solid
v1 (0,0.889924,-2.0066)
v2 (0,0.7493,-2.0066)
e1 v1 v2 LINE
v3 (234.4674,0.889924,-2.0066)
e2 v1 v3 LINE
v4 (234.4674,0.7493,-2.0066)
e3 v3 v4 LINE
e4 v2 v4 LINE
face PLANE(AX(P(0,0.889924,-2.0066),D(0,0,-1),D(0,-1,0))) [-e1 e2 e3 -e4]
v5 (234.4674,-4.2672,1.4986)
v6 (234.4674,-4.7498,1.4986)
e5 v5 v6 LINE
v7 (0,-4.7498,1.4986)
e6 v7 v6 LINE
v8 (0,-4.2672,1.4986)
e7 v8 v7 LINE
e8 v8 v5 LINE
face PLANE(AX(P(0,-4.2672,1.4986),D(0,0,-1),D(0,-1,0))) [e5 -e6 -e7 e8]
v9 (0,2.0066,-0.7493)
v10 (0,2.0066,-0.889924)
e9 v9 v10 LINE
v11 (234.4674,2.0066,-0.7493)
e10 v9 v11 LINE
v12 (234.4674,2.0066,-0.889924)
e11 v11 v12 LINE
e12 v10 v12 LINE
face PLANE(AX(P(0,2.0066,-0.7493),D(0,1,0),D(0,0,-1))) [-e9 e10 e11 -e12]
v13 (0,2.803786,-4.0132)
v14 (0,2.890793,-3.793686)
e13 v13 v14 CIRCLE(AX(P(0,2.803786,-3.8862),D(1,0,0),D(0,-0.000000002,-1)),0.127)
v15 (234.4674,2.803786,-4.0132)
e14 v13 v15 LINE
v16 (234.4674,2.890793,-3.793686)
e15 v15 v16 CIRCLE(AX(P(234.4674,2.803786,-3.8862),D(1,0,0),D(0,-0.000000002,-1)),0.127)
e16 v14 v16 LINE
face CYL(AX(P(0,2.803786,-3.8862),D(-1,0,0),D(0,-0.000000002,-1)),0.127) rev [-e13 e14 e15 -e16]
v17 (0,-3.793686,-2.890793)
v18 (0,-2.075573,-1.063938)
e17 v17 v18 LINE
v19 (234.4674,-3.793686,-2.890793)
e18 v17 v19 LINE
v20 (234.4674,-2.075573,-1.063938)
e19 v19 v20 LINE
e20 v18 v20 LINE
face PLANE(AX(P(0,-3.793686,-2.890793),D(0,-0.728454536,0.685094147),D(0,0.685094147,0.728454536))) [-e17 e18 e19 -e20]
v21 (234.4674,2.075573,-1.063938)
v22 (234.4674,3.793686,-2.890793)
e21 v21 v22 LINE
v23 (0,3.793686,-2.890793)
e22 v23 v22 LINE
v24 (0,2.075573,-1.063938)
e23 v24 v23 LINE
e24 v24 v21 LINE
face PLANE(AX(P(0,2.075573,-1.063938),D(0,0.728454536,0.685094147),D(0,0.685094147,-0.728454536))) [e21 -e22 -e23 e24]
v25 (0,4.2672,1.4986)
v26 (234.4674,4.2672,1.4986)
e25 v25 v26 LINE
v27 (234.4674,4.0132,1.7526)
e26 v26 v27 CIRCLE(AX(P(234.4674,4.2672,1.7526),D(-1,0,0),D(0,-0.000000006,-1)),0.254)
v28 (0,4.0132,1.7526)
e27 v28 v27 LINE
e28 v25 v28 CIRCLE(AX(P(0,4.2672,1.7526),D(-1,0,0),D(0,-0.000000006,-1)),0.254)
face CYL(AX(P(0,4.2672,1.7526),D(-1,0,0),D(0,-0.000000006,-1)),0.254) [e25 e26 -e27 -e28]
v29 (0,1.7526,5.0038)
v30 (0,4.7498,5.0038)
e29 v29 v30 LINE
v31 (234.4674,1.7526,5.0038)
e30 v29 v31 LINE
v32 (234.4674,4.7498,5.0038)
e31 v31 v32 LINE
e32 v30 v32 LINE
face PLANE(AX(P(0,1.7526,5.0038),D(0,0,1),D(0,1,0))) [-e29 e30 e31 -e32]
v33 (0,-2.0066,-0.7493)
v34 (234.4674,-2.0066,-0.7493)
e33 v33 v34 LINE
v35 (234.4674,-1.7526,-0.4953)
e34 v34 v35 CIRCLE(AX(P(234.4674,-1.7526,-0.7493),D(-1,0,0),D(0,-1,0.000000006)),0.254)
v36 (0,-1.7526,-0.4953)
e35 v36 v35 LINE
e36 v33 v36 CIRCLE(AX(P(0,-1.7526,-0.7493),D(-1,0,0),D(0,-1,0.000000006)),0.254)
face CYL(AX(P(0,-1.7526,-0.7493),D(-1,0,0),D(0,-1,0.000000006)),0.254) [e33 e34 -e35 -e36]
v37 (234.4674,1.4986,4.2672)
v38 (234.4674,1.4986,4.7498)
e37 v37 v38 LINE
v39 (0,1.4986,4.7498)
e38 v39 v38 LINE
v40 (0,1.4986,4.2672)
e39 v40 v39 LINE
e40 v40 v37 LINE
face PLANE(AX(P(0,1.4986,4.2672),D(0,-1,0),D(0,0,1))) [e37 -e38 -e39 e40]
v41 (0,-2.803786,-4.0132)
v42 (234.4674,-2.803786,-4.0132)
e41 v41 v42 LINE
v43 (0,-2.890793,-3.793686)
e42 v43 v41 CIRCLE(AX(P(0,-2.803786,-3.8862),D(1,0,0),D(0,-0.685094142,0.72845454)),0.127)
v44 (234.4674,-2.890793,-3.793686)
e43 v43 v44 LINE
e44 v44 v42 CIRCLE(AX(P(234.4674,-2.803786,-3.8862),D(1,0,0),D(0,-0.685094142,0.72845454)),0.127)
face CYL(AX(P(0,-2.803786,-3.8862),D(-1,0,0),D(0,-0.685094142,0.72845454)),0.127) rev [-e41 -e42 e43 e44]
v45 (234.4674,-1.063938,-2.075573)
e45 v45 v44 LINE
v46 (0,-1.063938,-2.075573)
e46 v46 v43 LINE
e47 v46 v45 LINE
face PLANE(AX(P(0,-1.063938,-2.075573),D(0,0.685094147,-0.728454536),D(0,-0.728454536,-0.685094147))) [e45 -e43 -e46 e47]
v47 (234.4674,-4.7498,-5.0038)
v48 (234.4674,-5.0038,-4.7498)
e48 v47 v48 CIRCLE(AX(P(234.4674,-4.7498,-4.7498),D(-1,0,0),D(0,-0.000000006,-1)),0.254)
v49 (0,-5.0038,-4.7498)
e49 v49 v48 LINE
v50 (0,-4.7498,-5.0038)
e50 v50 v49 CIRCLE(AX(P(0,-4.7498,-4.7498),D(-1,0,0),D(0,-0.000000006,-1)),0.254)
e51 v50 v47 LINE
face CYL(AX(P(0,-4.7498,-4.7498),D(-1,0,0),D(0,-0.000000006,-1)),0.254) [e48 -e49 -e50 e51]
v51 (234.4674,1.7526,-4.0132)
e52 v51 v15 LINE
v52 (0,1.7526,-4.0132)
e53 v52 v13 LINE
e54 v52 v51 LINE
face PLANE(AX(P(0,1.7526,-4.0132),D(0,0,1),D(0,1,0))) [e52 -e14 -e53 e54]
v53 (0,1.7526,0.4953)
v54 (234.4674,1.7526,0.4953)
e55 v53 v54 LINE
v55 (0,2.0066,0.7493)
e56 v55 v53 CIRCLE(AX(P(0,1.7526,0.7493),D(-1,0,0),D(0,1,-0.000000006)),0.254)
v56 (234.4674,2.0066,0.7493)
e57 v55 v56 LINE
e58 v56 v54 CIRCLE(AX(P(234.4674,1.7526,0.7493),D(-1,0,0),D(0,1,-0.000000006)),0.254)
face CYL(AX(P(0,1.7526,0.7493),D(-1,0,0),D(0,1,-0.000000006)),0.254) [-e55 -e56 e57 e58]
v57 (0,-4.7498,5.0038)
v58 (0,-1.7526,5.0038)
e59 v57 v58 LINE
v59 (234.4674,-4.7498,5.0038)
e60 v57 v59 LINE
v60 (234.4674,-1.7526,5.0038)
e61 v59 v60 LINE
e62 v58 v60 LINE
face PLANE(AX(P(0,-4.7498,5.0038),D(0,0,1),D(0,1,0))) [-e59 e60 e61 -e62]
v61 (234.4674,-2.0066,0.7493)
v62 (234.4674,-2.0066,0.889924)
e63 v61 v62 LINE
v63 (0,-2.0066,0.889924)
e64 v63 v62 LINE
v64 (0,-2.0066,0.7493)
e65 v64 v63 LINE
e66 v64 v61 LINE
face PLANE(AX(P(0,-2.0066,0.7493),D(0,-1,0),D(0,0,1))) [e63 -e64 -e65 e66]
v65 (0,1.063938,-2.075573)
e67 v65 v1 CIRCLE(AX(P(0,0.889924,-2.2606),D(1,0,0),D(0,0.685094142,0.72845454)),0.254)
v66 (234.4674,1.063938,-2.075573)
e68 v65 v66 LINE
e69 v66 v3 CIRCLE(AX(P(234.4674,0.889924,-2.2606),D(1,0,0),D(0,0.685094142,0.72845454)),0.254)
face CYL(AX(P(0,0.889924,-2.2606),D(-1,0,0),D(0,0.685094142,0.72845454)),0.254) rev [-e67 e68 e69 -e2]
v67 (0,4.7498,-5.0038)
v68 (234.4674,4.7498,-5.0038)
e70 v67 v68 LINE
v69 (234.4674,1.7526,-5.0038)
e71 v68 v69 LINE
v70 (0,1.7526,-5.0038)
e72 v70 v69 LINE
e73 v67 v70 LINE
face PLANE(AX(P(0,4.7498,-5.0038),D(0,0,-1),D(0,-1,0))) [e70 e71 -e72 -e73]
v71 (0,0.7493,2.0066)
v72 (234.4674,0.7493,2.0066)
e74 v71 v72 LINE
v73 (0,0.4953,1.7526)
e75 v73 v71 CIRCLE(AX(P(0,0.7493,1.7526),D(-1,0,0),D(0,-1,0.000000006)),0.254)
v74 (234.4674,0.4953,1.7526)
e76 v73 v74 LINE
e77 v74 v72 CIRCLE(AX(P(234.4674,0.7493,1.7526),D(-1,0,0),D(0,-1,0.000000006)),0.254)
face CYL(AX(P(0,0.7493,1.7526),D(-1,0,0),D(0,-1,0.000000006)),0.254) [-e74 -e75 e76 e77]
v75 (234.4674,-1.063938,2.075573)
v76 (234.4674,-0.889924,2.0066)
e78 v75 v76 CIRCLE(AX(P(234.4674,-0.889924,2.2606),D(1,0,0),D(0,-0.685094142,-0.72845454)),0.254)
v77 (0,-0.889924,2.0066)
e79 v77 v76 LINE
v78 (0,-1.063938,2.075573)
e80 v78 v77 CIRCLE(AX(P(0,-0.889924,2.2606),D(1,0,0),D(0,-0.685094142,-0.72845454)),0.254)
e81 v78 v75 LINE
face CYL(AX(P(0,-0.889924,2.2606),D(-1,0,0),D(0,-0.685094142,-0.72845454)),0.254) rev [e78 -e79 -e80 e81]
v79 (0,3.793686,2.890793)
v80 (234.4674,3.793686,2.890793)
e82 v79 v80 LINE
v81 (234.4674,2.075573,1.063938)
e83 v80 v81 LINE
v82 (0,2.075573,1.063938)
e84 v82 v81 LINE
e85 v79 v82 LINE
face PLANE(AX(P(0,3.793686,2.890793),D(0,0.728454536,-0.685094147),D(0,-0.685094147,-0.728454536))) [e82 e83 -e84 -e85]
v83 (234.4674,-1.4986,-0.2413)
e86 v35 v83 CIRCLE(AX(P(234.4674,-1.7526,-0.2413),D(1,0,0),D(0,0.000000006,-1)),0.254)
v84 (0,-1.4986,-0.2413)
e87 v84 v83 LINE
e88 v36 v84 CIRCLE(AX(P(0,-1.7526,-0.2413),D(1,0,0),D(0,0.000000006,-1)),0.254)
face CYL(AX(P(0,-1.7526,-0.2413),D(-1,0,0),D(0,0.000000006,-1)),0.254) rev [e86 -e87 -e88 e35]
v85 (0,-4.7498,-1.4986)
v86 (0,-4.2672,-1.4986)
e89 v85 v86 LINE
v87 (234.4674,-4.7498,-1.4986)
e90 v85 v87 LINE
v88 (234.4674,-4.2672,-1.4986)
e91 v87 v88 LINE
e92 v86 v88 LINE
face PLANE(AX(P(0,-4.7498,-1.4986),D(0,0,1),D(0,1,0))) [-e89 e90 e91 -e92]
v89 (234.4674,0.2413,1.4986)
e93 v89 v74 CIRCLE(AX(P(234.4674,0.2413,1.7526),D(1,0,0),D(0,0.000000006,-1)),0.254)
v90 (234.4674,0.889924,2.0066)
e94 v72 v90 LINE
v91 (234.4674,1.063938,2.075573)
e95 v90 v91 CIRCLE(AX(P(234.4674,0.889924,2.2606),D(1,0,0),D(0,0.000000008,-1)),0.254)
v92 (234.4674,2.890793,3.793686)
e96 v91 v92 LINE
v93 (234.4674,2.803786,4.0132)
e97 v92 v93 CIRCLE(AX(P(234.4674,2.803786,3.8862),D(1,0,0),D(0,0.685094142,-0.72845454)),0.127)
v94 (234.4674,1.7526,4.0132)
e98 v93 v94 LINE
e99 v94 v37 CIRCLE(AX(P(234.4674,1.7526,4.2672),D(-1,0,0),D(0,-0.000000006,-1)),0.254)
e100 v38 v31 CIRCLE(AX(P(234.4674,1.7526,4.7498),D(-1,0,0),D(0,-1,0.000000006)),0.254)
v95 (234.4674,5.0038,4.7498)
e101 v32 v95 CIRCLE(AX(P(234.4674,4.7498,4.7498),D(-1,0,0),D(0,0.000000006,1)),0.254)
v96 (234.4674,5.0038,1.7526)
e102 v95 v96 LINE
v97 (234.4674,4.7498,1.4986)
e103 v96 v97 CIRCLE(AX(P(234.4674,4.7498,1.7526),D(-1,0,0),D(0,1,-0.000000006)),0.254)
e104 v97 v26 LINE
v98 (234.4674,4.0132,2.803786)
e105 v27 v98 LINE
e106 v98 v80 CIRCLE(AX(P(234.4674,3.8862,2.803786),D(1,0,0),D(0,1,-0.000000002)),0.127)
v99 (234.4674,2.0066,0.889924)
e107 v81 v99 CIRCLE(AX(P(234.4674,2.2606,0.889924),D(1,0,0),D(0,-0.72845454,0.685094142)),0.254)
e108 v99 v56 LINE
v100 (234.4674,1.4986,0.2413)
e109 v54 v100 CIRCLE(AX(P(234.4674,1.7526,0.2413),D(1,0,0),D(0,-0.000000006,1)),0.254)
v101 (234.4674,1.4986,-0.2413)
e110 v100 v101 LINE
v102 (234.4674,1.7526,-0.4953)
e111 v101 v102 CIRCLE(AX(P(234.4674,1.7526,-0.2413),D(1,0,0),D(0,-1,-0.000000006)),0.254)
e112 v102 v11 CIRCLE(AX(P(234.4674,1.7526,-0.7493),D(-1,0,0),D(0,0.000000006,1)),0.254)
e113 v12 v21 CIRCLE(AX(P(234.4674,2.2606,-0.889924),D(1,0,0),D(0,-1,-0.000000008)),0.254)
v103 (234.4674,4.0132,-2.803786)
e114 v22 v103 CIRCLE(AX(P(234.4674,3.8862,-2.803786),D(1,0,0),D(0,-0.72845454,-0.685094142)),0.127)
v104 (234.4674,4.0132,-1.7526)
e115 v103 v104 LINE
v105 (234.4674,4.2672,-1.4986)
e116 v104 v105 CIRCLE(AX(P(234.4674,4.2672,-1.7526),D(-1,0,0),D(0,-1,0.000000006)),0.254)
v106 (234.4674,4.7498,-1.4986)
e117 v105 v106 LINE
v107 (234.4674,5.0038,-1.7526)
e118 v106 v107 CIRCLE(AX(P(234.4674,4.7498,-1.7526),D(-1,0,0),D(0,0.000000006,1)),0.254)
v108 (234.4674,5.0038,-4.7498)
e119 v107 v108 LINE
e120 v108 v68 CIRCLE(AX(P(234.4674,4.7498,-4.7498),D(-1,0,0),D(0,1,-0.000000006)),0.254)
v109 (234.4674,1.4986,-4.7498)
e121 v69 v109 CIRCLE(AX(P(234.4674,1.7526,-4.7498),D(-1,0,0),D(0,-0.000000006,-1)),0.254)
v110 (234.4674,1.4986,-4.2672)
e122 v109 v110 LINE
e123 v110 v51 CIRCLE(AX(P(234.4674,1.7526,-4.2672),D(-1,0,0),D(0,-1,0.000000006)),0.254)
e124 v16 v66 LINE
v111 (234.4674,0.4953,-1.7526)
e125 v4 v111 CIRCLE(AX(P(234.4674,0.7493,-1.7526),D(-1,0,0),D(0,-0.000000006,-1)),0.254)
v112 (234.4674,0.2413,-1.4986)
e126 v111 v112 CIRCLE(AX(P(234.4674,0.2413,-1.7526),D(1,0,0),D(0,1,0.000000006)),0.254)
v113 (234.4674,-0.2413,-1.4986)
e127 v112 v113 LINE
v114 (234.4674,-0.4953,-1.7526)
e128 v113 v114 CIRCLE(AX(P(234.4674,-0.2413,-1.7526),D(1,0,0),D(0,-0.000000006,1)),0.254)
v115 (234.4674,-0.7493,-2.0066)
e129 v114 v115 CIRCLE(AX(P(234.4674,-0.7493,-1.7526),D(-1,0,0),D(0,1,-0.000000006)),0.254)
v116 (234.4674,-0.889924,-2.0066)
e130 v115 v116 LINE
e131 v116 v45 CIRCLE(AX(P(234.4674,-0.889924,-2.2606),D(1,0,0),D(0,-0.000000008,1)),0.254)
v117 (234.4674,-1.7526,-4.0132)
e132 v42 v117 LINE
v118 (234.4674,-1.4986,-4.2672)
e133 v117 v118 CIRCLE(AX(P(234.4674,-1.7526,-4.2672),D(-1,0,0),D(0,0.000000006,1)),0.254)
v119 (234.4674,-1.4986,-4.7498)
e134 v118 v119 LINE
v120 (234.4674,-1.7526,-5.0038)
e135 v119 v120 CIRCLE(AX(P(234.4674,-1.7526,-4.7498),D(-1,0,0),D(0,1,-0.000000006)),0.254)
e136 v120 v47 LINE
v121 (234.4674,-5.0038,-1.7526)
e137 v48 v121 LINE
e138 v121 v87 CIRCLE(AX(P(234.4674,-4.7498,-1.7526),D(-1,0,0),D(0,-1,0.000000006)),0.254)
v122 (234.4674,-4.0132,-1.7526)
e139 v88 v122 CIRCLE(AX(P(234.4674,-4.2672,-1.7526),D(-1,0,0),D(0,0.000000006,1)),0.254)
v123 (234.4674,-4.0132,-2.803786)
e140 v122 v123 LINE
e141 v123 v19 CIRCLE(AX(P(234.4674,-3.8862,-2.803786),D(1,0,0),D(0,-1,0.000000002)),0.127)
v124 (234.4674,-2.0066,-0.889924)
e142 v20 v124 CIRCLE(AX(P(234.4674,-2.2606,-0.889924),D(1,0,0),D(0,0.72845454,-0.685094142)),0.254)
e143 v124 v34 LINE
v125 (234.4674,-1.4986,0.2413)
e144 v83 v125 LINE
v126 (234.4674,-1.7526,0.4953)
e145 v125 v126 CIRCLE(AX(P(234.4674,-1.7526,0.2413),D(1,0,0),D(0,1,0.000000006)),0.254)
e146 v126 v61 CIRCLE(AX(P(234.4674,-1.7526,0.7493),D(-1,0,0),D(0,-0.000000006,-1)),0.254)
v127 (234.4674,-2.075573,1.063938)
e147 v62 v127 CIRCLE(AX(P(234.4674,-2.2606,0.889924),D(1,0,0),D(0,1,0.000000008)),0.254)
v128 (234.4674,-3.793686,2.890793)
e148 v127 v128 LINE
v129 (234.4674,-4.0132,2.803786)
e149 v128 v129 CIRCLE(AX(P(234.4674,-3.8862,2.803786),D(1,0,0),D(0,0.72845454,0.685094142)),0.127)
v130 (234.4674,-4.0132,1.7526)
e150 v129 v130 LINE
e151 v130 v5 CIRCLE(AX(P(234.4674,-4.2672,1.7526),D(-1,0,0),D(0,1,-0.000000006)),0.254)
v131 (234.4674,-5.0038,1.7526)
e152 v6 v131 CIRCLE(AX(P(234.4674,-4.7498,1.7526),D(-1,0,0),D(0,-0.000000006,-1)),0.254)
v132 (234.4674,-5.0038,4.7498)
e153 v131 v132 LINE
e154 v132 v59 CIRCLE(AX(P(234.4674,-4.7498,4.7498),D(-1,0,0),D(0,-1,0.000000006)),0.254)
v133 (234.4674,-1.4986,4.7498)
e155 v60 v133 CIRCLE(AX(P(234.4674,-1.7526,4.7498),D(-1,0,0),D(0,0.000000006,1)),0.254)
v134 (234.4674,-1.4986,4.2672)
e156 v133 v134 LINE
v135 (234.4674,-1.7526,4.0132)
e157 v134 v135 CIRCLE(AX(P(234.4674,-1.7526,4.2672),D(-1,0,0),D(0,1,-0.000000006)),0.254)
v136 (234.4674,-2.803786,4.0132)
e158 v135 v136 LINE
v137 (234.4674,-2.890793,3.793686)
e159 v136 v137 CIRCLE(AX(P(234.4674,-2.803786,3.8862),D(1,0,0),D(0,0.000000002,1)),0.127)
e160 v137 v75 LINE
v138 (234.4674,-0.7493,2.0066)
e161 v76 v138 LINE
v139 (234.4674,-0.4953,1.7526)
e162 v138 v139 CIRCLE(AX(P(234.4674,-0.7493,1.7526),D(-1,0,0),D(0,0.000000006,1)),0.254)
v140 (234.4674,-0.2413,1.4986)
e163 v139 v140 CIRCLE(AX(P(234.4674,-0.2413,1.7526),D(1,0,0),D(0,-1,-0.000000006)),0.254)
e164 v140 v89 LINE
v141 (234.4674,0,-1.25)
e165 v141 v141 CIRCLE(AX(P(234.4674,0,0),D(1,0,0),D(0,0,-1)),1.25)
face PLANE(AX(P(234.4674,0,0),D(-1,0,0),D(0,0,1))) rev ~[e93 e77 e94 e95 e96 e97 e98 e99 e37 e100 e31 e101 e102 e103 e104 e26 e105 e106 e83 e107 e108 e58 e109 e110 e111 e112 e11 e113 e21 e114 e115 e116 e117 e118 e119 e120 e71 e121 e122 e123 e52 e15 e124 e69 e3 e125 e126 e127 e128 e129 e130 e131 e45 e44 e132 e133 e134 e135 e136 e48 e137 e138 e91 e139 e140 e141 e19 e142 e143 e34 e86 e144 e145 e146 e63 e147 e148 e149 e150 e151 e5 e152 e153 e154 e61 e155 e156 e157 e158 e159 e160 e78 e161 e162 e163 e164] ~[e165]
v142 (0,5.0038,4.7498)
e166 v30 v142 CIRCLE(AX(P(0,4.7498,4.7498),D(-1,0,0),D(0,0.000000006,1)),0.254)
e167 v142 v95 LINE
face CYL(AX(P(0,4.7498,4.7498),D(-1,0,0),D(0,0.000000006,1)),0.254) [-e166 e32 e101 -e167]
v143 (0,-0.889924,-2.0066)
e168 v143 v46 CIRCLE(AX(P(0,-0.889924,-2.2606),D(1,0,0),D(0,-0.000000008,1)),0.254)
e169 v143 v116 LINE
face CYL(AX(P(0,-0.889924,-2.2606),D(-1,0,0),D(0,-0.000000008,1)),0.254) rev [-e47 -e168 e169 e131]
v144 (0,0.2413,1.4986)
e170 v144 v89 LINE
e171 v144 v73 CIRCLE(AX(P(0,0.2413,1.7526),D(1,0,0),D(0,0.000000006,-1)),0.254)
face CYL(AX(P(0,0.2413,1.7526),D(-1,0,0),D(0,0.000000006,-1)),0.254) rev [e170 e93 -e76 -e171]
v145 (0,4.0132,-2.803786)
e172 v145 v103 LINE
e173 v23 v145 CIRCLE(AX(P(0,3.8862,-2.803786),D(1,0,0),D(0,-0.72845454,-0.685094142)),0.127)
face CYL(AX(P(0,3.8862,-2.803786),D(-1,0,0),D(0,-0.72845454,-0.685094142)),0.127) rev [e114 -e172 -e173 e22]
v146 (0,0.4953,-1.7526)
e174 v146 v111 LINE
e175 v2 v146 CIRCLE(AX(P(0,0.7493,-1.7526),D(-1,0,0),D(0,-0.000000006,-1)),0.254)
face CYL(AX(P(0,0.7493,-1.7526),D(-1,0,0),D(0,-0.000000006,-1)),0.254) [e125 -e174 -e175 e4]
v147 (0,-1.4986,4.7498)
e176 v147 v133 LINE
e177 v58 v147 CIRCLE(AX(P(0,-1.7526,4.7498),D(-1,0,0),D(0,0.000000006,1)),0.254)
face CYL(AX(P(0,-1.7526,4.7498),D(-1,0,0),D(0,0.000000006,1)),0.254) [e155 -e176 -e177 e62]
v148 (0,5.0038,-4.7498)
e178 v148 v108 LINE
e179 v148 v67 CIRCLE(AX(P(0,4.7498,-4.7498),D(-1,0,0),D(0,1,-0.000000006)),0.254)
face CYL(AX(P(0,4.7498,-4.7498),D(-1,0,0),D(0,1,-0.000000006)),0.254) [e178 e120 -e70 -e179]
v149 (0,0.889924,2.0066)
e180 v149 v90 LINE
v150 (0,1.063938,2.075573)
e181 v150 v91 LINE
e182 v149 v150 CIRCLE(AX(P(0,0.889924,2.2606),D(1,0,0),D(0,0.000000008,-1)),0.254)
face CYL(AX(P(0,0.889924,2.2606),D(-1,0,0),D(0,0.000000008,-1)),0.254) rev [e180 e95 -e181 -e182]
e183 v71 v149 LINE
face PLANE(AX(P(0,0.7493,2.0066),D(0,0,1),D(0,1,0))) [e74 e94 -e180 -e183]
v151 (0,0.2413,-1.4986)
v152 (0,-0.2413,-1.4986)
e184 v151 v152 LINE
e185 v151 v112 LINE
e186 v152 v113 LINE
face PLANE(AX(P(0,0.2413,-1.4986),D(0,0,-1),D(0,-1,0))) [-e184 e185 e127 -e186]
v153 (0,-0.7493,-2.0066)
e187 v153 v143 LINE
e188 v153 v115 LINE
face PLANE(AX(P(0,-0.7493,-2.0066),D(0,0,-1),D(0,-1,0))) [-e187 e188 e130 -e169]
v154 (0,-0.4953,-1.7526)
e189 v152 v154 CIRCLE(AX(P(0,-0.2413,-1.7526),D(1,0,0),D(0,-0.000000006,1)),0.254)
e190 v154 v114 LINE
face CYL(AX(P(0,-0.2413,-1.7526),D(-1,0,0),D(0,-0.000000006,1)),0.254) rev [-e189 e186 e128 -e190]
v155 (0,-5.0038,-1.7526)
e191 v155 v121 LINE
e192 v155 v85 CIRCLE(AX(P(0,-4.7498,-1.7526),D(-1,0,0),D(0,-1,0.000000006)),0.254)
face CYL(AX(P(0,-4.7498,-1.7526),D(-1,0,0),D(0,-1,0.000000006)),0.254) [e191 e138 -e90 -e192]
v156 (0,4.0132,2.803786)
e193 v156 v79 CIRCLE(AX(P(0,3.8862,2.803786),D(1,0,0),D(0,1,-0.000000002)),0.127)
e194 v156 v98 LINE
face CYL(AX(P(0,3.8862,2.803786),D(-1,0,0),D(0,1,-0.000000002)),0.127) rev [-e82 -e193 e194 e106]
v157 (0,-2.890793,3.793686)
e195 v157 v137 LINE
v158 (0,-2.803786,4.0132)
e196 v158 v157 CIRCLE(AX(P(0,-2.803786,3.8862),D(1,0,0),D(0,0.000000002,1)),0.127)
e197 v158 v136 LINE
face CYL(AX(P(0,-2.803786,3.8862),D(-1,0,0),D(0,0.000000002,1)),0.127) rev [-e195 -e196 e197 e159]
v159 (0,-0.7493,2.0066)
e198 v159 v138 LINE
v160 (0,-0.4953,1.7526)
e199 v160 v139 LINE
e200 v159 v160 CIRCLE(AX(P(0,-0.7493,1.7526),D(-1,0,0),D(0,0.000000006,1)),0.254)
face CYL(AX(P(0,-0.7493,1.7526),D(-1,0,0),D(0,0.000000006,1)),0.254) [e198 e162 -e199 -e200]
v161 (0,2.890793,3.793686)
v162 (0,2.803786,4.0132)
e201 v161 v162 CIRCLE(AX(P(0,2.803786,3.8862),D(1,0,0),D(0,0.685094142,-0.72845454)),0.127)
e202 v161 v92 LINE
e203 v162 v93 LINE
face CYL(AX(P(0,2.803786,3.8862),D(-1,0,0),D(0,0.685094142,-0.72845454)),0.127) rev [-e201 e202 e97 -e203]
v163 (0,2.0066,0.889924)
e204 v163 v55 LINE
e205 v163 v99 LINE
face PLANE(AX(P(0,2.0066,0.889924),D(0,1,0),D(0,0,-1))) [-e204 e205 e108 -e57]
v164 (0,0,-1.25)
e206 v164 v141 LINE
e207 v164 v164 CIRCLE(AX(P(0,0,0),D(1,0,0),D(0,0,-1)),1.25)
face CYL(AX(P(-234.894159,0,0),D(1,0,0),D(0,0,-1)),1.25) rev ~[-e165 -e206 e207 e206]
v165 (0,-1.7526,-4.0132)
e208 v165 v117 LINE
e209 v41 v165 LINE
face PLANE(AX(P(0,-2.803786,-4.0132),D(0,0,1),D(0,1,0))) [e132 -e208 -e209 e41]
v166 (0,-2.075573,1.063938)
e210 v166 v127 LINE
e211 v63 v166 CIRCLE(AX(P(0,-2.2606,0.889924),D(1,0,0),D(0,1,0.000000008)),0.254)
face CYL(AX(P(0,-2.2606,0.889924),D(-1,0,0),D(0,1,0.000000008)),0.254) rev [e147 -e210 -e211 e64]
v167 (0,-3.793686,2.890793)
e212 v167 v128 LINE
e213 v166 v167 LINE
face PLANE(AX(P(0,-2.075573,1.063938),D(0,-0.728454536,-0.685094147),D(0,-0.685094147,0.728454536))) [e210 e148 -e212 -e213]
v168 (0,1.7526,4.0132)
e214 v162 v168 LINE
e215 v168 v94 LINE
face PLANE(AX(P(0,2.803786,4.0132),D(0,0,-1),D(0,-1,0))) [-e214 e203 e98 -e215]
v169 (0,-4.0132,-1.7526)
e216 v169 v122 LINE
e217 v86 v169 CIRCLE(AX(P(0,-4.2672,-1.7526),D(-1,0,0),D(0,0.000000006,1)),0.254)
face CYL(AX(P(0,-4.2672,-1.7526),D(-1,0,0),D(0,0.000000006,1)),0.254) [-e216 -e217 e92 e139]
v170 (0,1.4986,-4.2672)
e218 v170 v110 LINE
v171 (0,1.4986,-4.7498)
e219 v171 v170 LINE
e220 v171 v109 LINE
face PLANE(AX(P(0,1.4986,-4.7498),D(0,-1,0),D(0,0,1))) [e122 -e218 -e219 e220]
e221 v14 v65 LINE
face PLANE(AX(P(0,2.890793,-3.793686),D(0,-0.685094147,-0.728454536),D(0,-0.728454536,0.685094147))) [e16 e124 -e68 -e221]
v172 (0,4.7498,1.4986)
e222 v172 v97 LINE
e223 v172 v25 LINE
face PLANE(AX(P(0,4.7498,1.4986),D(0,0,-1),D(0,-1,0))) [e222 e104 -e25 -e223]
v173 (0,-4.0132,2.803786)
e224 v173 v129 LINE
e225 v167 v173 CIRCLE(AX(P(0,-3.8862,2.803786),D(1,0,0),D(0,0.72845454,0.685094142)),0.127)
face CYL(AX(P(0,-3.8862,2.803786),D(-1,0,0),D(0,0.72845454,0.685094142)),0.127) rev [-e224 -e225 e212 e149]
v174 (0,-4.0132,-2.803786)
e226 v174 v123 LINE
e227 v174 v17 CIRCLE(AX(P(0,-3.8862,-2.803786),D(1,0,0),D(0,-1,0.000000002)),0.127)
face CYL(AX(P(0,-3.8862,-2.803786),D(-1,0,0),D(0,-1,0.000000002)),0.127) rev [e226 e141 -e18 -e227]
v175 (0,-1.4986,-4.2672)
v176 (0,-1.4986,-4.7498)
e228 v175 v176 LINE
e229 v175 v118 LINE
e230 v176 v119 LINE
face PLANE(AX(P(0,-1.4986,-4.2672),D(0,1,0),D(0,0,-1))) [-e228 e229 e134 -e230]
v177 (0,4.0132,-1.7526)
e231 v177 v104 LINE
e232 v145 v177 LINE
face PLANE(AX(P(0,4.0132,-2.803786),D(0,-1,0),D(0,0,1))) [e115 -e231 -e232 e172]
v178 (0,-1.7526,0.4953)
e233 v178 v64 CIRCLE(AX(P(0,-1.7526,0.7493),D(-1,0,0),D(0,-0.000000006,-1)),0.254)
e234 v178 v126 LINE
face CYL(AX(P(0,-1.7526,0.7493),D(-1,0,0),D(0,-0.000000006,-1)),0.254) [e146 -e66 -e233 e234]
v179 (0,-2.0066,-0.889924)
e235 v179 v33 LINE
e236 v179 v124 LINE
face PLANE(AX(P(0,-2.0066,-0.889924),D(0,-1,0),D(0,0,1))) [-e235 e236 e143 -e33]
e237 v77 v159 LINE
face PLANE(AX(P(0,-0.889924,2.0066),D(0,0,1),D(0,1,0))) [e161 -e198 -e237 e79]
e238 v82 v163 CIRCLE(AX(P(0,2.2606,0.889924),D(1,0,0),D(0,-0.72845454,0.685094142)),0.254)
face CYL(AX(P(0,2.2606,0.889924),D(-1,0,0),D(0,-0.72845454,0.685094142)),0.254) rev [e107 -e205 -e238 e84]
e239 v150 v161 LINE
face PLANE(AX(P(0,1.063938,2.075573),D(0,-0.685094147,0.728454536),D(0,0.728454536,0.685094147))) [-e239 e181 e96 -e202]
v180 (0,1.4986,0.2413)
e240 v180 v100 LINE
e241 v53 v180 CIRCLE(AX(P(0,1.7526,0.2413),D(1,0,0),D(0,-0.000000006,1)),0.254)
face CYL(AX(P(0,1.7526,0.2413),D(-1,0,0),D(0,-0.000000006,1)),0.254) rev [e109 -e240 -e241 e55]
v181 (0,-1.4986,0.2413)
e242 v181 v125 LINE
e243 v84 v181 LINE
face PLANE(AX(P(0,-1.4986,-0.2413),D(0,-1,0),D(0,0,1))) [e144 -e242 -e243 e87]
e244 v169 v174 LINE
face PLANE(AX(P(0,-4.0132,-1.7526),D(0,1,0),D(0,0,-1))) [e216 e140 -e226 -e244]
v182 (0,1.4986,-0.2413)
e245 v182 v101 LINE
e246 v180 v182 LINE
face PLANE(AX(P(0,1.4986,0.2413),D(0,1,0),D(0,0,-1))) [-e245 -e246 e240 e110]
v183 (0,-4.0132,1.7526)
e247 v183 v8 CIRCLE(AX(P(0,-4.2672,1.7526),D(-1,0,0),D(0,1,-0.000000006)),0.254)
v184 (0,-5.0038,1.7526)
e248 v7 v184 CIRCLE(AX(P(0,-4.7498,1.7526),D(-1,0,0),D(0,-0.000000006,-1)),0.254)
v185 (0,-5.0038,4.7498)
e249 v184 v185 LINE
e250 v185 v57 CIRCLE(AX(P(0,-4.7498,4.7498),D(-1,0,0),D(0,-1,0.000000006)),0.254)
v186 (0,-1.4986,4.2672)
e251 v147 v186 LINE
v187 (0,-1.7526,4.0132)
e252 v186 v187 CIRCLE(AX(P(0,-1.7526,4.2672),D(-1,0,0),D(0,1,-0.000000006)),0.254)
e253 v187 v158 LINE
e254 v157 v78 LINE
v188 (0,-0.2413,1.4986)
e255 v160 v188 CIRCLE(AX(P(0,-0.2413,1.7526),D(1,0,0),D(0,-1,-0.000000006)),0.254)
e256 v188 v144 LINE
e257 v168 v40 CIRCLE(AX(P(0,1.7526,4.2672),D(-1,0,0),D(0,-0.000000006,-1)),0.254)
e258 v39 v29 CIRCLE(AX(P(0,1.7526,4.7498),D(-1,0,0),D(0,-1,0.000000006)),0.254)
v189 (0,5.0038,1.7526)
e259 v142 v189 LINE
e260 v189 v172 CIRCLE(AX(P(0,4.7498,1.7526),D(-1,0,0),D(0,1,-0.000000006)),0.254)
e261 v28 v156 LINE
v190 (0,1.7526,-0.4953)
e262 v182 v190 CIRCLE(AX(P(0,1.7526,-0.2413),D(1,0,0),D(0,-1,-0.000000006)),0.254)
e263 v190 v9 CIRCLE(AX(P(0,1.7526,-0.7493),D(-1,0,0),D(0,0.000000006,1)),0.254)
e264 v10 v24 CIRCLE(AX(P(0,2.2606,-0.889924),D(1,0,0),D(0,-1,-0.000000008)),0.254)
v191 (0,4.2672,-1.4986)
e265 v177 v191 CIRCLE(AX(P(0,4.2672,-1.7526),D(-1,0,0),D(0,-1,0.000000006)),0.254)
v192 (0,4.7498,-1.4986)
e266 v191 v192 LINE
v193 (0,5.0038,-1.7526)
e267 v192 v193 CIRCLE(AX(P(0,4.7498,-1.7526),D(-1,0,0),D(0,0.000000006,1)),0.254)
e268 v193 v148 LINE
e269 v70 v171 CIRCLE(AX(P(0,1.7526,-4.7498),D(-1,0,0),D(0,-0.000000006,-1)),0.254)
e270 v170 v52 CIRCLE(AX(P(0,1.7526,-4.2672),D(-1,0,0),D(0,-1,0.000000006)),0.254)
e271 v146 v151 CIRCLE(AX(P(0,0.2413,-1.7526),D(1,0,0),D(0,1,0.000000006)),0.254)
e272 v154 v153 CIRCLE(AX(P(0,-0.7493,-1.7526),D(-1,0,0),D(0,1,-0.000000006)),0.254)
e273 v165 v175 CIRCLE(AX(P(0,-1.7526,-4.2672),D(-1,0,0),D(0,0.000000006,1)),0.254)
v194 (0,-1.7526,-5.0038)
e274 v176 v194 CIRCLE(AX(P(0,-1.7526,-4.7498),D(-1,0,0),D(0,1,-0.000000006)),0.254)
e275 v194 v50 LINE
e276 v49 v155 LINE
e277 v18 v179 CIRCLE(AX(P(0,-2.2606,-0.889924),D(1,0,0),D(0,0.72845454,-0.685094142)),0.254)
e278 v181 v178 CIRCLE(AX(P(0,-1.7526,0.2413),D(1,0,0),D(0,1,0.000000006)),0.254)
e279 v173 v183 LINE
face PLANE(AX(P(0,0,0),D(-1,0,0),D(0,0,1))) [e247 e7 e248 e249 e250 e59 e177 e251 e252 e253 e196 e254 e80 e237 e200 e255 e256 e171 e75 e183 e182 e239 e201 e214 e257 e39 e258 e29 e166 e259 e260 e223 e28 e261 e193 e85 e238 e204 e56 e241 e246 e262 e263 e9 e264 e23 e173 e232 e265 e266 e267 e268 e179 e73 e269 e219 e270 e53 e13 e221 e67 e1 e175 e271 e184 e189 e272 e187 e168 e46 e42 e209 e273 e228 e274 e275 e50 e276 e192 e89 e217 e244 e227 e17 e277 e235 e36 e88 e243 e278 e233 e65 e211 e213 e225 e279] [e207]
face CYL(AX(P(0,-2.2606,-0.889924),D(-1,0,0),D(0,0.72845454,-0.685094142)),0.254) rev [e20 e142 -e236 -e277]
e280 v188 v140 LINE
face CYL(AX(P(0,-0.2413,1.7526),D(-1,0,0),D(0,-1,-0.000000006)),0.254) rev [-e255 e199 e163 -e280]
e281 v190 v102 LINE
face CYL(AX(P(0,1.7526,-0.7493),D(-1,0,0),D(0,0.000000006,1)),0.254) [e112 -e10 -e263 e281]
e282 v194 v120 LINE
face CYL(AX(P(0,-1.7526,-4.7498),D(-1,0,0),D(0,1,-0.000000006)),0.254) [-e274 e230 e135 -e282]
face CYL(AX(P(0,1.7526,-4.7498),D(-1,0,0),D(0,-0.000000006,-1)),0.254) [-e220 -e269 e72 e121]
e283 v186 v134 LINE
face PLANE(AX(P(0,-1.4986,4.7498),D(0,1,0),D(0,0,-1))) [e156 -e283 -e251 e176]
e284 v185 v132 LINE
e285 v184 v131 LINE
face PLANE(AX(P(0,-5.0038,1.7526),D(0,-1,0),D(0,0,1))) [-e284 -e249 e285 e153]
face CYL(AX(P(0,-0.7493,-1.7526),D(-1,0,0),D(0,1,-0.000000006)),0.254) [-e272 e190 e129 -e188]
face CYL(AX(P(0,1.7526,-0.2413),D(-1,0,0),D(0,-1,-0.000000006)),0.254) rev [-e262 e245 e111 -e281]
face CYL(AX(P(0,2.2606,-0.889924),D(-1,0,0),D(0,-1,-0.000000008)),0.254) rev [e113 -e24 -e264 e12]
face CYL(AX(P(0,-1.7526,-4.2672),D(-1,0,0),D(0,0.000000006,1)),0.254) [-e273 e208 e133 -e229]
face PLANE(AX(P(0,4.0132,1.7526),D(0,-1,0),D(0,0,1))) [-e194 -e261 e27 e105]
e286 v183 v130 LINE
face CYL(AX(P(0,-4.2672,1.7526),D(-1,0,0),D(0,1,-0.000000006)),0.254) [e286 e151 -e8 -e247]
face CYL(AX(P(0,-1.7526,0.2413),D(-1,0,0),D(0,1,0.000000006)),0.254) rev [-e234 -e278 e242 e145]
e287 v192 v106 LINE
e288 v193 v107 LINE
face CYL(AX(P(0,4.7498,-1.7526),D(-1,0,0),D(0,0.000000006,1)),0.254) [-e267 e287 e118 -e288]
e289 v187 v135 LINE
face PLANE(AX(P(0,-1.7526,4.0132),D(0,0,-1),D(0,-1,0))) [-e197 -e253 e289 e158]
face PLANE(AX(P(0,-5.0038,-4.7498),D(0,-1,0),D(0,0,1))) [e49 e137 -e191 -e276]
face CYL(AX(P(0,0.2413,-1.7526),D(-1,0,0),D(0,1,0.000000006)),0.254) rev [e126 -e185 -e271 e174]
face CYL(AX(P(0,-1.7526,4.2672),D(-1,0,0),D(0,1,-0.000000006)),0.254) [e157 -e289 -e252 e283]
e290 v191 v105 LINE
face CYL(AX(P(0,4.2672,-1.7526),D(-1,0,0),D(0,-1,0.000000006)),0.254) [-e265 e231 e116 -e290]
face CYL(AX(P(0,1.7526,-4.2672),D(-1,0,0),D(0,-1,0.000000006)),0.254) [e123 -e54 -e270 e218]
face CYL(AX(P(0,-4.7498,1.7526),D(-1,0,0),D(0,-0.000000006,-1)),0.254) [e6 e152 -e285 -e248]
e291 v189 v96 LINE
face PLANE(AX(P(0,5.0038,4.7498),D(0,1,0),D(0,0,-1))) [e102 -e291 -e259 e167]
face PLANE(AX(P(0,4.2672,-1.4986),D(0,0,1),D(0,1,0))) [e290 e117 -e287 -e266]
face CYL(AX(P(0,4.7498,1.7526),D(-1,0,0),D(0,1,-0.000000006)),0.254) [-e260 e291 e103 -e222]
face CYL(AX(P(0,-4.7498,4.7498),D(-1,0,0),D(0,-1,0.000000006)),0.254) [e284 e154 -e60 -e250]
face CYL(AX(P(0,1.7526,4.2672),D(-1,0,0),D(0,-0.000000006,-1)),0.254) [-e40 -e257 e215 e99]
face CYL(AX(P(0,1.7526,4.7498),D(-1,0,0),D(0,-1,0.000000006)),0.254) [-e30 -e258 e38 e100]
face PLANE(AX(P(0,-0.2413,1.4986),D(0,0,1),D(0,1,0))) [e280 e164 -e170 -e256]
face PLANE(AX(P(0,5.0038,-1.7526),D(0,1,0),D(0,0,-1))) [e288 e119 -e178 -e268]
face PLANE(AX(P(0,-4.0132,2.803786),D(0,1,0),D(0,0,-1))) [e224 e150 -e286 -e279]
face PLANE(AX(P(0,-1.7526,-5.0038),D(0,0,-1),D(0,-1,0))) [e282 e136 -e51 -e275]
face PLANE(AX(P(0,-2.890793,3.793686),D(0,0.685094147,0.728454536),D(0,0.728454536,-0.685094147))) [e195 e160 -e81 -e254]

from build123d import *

# Parameters (mm, degrees)
ESTRUSIONE_ESTRUSIONE1_DEPTH = 234.4674
FORO_FILETTATO_M3X0_5_1_D    = 2.5


with BuildPart() as part:
    # Sketch1 → Estrusione-Estrusione1 (new body)
    with BuildSketch(Plane(origin=(0, 0, 0), x_dir=(0, 0, -1), z_dir=(1, 0, 0))):
        with BuildLine():
            Line((-0.2413, 1.4986), (0.2413, 1.4986))
            ThreePointArc((0.2413, 1.4986), (0.420905122, 1.572994878), (0.4953, 1.7526))
            ThreePointArc((0.4953, 1.7526), (0.569694878, 1.932205122), (0.7493, 2.0066))
            Line((0.7493, 2.0066), (0.889923986, 2.0066))
            ThreePointArc((0.889923986, 2.0066), (0.983516259, 2.024471886), (1.063937899, 2.075572548))
            Line((1.063937899, 2.075572548), (2.890793, 3.793686274))
            ThreePointArc((2.890793, 3.793686274), (2.921850101, 3.932996137), (2.803786044, 4.0132))
            Line((2.803786044, 4.0132), (1.7526, 4.0132))
            ThreePointArc((1.7526, 4.0132), (1.572994878, 4.087594878), (1.4986, 4.2672))
            Line((1.4986, 4.2672), (1.4986, 4.7498))
            ThreePointArc((1.4986, 4.7498), (1.572994878, 4.929405122), (1.7526, 5.0038))
            Line((1.7526, 5.0038), (4.7498, 5.0038))
            ThreePointArc((4.7498, 5.0038), (4.929405122, 4.929405122), (5.0038, 4.7498))
            Line((5.0038, 4.7498), (5.0038, 1.7526))
            ThreePointArc((5.0038, 1.7526), (4.929405122, 1.572994878), (4.7498, 1.4986))
            Line((4.7498, 1.4986), (4.2672, 1.4986))
            ThreePointArc((4.2672, 1.4986), (4.087594878, 1.572994878), (4.0132, 1.7526))
            Line((4.0132, 1.7526), (4.0132, 2.803786044))
            ThreePointArc((4.0132, 2.803786044), (3.932996137, 2.921850101), (3.793686274, 2.890793))
            Line((3.793686274, 2.890793), (2.075572548, 1.063937899))
            ThreePointArc((2.075572548, 1.063937899), (2.024471886, 0.983516259), (2.0066, 0.889923986))
            Line((2.0066, 0.889923986), (2.0066, 0.7493))
            ThreePointArc((2.0066, 0.7493), (1.932205122, 0.569694878), (1.7526, 0.4953))
            ThreePointArc((1.7526, 0.4953), (1.572994878, 0.420905122), (1.4986, 0.2413))
            Line((1.4986, 0.2413), (1.4986, -0.2413))
            ThreePointArc((1.4986, -0.2413), (1.572994878, -0.420905122), (1.7526, -0.4953))
            ThreePointArc((1.7526, -0.4953), (1.932205122, -0.569694878), (2.0066, -0.7493))
            Line((2.0066, -0.7493), (2.0066, -0.889923986))
            ThreePointArc((2.0066, -0.889923986), (2.024471886, -0.983516259), (2.075572548, -1.063937899))
            Line((2.075572548, -1.063937899), (3.793686274, -2.890793))
            ThreePointArc((3.793686274, -2.890793), (3.932996137, -2.921850101), (4.0132, -2.803786044))
            Line((4.0132, -2.803786044), (4.0132, -1.7526))
            ThreePointArc((4.0132, -1.7526), (4.087594878, -1.572994878), (4.2672, -1.4986))
            Line((4.2672, -1.4986), (4.7498, -1.4986))
            ThreePointArc((4.7498, -1.4986), (4.929405122, -1.572994878), (5.0038, -1.7526))
            Line((5.0038, -1.7526), (5.0038, -4.7498))
            ThreePointArc((5.0038, -4.7498), (4.929405122, -4.929405122), (4.7498, -5.0038))
            Line((4.7498, -5.0038), (1.7526, -5.0038))
            ThreePointArc((1.7526, -5.0038), (1.572994878, -4.929405122), (1.4986, -4.7498))
            Line((1.4986, -4.7498), (1.4986, -4.2672))
            ThreePointArc((1.4986, -4.2672), (1.572994878, -4.087594878), (1.7526, -4.0132))
            Line((1.7526, -4.0132), (2.803786044, -4.0132))
            ThreePointArc((2.803786044, -4.0132), (2.921850101, -3.932996137), (2.890793, -3.793686274))
            Line((2.890793, -3.793686274), (1.063937899, -2.075572548))
            ThreePointArc((1.063937899, -2.075572548), (0.983516259, -2.024471886), (0.889923986, -2.0066))
            Line((0.889923986, -2.0066), (0.7493, -2.0066))
            ThreePointArc((0.7493, -2.0066), (0.569694878, -1.932205122), (0.4953, -1.7526))
            ThreePointArc((0.4953, -1.7526), (0.420905122, -1.572994878), (0.2413, -1.4986))
            Line((0.2413, -1.4986), (-0.2413, -1.4986))
            ThreePointArc((-0.2413, -1.4986), (-0.420905122, -1.572994878), (-0.4953, -1.7526))
            ThreePointArc((-0.4953, -1.7526), (-0.569694878, -1.932205122), (-0.7493, -2.0066))
            Line((-0.7493, -2.0066), (-0.889923986, -2.0066))
            ThreePointArc((-0.889923986, -2.0066), (-0.983516259, -2.024471886), (-1.063937899, -2.075572548))
            Line((-1.063937899, -2.075572548), (-2.890793, -3.793686274))
            ThreePointArc((-2.890793, -3.793686274), (-2.921850101, -3.932996137), (-2.803786044, -4.0132))
            Line((-2.803786044, -4.0132), (-1.7526, -4.0132))
            ThreePointArc((-1.7526, -4.0132), (-1.572994878, -4.087594878), (-1.4986, -4.2672))
            Line((-1.4986, -4.2672), (-1.4986, -4.7498))
            ThreePointArc((-1.4986, -4.7498), (-1.572994878, -4.929405122), (-1.7526, -5.0038))
            Line((-1.7526, -5.0038), (-4.7498, -5.0038))
            ThreePointArc((-4.7498, -5.0038), (-4.929405122, -4.929405122), (-5.0038, -4.7498))
            Line((-5.0038, -4.7498), (-5.0038, -1.7526))
            ThreePointArc((-5.0038, -1.7526), (-4.929405122, -1.572994878), (-4.7498, -1.4986))
            Line((-4.7498, -1.4986), (-4.2672, -1.4986))
            ThreePointArc((-4.2672, -1.4986), (-4.087594878, -1.572994878), (-4.0132, -1.7526))
            Line((-4.0132, -1.7526), (-4.0132, -2.803786044))
            ThreePointArc((-4.0132, -2.803786044), (-3.932996137, -2.921850101), (-3.793686274, -2.890793))
            Line((-3.793686274, -2.890793), (-2.075572548, -1.063937899))
            ThreePointArc((-2.075572548, -1.063937899), (-2.024471886, -0.983516259), (-2.0066, -0.889923986))
            Line((-2.0066, -0.889923986), (-2.0066, -0.7493))
            ThreePointArc((-2.0066, -0.7493), (-1.932205122, -0.569694878), (-1.7526, -0.4953))
            ThreePointArc((-1.7526, -0.4953), (-1.572994878, -0.420905122), (-1.4986, -0.2413))
            Line((-1.4986, -0.2413), (-1.4986, 0.2413))
            ThreePointArc((-1.4986, 0.2413), (-1.572994878, 0.420905122), (-1.7526, 0.4953))
            ThreePointArc((-1.7526, 0.4953), (-1.932205122, 0.569694878), (-2.0066, 0.7493))
            Line((-2.0066, 0.7493), (-2.0066, 0.889923986))
            ThreePointArc((-2.0066, 0.889923986), (-2.024471886, 0.983516259), (-2.075572548, 1.063937899))
            Line((-2.075572548, 1.063937899), (-3.793686274, 2.890793))
            ThreePointArc((-3.793686274, 2.890793), (-3.932996137, 2.921850101), (-4.0132, 2.803786044))
            Line((-4.0132, 2.803786044), (-4.0132, 1.7526))
            ThreePointArc((-4.0132, 1.7526), (-4.087594878, 1.572994878), (-4.2672, 1.4986))
            Line((-4.2672, 1.4986), (-4.7498, 1.4986))
            ThreePointArc((-4.7498, 1.4986), (-4.929405122, 1.572994878), (-5.0038, 1.7526))
            Line((-5.0038, 1.7526), (-5.0038, 4.7498))
            ThreePointArc((-5.0038, 4.7498), (-4.929405122, 4.929405122), (-4.7498, 5.0038))
            Line((-4.7498, 5.0038), (-1.7526, 5.0038))
            ThreePointArc((-1.7526, 5.0038), (-1.572994878, 4.929405122), (-1.4986, 4.7498))
            Line((-1.4986, 4.7498), (-1.4986, 4.2672))
            ThreePointArc((-1.4986, 4.2672), (-1.572994878, 4.087594878), (-1.7526, 4.0132))
            Line((-1.7526, 4.0132), (-2.803786044, 4.0132))
            ThreePointArc((-2.803786044, 4.0132), (-2.921850101, 3.932996137), (-2.890793, 3.793686274))
            Line((-2.890793, 3.793686274), (-1.063937899, 2.075572548))
            ThreePointArc((-1.063937899, 2.075572548), (-0.983516259, 2.024471886), (-0.889923986, 2.0066))
            Line((-0.889923986, 2.0066), (-0.7493, 2.0066))
            ThreePointArc((-0.7493, 2.0066), (-0.569694878, 1.932205122), (-0.4953, 1.7526))
            ThreePointArc((-0.4953, 1.7526), (-0.420905122, 1.572994878), (-0.2413, 1.4986))
        make_face()
    extrude(amount=ESTRUSIONE_ESTRUSIONE1_DEPTH)

    # Foro filettato M3x0.5-1 (through all)
    with Locations(Plane.ZY):
        with Locations((0, 0)):
            Hole(FORO_FILETTATO_M3X0_5_1_D / 2)


solid = part.part
